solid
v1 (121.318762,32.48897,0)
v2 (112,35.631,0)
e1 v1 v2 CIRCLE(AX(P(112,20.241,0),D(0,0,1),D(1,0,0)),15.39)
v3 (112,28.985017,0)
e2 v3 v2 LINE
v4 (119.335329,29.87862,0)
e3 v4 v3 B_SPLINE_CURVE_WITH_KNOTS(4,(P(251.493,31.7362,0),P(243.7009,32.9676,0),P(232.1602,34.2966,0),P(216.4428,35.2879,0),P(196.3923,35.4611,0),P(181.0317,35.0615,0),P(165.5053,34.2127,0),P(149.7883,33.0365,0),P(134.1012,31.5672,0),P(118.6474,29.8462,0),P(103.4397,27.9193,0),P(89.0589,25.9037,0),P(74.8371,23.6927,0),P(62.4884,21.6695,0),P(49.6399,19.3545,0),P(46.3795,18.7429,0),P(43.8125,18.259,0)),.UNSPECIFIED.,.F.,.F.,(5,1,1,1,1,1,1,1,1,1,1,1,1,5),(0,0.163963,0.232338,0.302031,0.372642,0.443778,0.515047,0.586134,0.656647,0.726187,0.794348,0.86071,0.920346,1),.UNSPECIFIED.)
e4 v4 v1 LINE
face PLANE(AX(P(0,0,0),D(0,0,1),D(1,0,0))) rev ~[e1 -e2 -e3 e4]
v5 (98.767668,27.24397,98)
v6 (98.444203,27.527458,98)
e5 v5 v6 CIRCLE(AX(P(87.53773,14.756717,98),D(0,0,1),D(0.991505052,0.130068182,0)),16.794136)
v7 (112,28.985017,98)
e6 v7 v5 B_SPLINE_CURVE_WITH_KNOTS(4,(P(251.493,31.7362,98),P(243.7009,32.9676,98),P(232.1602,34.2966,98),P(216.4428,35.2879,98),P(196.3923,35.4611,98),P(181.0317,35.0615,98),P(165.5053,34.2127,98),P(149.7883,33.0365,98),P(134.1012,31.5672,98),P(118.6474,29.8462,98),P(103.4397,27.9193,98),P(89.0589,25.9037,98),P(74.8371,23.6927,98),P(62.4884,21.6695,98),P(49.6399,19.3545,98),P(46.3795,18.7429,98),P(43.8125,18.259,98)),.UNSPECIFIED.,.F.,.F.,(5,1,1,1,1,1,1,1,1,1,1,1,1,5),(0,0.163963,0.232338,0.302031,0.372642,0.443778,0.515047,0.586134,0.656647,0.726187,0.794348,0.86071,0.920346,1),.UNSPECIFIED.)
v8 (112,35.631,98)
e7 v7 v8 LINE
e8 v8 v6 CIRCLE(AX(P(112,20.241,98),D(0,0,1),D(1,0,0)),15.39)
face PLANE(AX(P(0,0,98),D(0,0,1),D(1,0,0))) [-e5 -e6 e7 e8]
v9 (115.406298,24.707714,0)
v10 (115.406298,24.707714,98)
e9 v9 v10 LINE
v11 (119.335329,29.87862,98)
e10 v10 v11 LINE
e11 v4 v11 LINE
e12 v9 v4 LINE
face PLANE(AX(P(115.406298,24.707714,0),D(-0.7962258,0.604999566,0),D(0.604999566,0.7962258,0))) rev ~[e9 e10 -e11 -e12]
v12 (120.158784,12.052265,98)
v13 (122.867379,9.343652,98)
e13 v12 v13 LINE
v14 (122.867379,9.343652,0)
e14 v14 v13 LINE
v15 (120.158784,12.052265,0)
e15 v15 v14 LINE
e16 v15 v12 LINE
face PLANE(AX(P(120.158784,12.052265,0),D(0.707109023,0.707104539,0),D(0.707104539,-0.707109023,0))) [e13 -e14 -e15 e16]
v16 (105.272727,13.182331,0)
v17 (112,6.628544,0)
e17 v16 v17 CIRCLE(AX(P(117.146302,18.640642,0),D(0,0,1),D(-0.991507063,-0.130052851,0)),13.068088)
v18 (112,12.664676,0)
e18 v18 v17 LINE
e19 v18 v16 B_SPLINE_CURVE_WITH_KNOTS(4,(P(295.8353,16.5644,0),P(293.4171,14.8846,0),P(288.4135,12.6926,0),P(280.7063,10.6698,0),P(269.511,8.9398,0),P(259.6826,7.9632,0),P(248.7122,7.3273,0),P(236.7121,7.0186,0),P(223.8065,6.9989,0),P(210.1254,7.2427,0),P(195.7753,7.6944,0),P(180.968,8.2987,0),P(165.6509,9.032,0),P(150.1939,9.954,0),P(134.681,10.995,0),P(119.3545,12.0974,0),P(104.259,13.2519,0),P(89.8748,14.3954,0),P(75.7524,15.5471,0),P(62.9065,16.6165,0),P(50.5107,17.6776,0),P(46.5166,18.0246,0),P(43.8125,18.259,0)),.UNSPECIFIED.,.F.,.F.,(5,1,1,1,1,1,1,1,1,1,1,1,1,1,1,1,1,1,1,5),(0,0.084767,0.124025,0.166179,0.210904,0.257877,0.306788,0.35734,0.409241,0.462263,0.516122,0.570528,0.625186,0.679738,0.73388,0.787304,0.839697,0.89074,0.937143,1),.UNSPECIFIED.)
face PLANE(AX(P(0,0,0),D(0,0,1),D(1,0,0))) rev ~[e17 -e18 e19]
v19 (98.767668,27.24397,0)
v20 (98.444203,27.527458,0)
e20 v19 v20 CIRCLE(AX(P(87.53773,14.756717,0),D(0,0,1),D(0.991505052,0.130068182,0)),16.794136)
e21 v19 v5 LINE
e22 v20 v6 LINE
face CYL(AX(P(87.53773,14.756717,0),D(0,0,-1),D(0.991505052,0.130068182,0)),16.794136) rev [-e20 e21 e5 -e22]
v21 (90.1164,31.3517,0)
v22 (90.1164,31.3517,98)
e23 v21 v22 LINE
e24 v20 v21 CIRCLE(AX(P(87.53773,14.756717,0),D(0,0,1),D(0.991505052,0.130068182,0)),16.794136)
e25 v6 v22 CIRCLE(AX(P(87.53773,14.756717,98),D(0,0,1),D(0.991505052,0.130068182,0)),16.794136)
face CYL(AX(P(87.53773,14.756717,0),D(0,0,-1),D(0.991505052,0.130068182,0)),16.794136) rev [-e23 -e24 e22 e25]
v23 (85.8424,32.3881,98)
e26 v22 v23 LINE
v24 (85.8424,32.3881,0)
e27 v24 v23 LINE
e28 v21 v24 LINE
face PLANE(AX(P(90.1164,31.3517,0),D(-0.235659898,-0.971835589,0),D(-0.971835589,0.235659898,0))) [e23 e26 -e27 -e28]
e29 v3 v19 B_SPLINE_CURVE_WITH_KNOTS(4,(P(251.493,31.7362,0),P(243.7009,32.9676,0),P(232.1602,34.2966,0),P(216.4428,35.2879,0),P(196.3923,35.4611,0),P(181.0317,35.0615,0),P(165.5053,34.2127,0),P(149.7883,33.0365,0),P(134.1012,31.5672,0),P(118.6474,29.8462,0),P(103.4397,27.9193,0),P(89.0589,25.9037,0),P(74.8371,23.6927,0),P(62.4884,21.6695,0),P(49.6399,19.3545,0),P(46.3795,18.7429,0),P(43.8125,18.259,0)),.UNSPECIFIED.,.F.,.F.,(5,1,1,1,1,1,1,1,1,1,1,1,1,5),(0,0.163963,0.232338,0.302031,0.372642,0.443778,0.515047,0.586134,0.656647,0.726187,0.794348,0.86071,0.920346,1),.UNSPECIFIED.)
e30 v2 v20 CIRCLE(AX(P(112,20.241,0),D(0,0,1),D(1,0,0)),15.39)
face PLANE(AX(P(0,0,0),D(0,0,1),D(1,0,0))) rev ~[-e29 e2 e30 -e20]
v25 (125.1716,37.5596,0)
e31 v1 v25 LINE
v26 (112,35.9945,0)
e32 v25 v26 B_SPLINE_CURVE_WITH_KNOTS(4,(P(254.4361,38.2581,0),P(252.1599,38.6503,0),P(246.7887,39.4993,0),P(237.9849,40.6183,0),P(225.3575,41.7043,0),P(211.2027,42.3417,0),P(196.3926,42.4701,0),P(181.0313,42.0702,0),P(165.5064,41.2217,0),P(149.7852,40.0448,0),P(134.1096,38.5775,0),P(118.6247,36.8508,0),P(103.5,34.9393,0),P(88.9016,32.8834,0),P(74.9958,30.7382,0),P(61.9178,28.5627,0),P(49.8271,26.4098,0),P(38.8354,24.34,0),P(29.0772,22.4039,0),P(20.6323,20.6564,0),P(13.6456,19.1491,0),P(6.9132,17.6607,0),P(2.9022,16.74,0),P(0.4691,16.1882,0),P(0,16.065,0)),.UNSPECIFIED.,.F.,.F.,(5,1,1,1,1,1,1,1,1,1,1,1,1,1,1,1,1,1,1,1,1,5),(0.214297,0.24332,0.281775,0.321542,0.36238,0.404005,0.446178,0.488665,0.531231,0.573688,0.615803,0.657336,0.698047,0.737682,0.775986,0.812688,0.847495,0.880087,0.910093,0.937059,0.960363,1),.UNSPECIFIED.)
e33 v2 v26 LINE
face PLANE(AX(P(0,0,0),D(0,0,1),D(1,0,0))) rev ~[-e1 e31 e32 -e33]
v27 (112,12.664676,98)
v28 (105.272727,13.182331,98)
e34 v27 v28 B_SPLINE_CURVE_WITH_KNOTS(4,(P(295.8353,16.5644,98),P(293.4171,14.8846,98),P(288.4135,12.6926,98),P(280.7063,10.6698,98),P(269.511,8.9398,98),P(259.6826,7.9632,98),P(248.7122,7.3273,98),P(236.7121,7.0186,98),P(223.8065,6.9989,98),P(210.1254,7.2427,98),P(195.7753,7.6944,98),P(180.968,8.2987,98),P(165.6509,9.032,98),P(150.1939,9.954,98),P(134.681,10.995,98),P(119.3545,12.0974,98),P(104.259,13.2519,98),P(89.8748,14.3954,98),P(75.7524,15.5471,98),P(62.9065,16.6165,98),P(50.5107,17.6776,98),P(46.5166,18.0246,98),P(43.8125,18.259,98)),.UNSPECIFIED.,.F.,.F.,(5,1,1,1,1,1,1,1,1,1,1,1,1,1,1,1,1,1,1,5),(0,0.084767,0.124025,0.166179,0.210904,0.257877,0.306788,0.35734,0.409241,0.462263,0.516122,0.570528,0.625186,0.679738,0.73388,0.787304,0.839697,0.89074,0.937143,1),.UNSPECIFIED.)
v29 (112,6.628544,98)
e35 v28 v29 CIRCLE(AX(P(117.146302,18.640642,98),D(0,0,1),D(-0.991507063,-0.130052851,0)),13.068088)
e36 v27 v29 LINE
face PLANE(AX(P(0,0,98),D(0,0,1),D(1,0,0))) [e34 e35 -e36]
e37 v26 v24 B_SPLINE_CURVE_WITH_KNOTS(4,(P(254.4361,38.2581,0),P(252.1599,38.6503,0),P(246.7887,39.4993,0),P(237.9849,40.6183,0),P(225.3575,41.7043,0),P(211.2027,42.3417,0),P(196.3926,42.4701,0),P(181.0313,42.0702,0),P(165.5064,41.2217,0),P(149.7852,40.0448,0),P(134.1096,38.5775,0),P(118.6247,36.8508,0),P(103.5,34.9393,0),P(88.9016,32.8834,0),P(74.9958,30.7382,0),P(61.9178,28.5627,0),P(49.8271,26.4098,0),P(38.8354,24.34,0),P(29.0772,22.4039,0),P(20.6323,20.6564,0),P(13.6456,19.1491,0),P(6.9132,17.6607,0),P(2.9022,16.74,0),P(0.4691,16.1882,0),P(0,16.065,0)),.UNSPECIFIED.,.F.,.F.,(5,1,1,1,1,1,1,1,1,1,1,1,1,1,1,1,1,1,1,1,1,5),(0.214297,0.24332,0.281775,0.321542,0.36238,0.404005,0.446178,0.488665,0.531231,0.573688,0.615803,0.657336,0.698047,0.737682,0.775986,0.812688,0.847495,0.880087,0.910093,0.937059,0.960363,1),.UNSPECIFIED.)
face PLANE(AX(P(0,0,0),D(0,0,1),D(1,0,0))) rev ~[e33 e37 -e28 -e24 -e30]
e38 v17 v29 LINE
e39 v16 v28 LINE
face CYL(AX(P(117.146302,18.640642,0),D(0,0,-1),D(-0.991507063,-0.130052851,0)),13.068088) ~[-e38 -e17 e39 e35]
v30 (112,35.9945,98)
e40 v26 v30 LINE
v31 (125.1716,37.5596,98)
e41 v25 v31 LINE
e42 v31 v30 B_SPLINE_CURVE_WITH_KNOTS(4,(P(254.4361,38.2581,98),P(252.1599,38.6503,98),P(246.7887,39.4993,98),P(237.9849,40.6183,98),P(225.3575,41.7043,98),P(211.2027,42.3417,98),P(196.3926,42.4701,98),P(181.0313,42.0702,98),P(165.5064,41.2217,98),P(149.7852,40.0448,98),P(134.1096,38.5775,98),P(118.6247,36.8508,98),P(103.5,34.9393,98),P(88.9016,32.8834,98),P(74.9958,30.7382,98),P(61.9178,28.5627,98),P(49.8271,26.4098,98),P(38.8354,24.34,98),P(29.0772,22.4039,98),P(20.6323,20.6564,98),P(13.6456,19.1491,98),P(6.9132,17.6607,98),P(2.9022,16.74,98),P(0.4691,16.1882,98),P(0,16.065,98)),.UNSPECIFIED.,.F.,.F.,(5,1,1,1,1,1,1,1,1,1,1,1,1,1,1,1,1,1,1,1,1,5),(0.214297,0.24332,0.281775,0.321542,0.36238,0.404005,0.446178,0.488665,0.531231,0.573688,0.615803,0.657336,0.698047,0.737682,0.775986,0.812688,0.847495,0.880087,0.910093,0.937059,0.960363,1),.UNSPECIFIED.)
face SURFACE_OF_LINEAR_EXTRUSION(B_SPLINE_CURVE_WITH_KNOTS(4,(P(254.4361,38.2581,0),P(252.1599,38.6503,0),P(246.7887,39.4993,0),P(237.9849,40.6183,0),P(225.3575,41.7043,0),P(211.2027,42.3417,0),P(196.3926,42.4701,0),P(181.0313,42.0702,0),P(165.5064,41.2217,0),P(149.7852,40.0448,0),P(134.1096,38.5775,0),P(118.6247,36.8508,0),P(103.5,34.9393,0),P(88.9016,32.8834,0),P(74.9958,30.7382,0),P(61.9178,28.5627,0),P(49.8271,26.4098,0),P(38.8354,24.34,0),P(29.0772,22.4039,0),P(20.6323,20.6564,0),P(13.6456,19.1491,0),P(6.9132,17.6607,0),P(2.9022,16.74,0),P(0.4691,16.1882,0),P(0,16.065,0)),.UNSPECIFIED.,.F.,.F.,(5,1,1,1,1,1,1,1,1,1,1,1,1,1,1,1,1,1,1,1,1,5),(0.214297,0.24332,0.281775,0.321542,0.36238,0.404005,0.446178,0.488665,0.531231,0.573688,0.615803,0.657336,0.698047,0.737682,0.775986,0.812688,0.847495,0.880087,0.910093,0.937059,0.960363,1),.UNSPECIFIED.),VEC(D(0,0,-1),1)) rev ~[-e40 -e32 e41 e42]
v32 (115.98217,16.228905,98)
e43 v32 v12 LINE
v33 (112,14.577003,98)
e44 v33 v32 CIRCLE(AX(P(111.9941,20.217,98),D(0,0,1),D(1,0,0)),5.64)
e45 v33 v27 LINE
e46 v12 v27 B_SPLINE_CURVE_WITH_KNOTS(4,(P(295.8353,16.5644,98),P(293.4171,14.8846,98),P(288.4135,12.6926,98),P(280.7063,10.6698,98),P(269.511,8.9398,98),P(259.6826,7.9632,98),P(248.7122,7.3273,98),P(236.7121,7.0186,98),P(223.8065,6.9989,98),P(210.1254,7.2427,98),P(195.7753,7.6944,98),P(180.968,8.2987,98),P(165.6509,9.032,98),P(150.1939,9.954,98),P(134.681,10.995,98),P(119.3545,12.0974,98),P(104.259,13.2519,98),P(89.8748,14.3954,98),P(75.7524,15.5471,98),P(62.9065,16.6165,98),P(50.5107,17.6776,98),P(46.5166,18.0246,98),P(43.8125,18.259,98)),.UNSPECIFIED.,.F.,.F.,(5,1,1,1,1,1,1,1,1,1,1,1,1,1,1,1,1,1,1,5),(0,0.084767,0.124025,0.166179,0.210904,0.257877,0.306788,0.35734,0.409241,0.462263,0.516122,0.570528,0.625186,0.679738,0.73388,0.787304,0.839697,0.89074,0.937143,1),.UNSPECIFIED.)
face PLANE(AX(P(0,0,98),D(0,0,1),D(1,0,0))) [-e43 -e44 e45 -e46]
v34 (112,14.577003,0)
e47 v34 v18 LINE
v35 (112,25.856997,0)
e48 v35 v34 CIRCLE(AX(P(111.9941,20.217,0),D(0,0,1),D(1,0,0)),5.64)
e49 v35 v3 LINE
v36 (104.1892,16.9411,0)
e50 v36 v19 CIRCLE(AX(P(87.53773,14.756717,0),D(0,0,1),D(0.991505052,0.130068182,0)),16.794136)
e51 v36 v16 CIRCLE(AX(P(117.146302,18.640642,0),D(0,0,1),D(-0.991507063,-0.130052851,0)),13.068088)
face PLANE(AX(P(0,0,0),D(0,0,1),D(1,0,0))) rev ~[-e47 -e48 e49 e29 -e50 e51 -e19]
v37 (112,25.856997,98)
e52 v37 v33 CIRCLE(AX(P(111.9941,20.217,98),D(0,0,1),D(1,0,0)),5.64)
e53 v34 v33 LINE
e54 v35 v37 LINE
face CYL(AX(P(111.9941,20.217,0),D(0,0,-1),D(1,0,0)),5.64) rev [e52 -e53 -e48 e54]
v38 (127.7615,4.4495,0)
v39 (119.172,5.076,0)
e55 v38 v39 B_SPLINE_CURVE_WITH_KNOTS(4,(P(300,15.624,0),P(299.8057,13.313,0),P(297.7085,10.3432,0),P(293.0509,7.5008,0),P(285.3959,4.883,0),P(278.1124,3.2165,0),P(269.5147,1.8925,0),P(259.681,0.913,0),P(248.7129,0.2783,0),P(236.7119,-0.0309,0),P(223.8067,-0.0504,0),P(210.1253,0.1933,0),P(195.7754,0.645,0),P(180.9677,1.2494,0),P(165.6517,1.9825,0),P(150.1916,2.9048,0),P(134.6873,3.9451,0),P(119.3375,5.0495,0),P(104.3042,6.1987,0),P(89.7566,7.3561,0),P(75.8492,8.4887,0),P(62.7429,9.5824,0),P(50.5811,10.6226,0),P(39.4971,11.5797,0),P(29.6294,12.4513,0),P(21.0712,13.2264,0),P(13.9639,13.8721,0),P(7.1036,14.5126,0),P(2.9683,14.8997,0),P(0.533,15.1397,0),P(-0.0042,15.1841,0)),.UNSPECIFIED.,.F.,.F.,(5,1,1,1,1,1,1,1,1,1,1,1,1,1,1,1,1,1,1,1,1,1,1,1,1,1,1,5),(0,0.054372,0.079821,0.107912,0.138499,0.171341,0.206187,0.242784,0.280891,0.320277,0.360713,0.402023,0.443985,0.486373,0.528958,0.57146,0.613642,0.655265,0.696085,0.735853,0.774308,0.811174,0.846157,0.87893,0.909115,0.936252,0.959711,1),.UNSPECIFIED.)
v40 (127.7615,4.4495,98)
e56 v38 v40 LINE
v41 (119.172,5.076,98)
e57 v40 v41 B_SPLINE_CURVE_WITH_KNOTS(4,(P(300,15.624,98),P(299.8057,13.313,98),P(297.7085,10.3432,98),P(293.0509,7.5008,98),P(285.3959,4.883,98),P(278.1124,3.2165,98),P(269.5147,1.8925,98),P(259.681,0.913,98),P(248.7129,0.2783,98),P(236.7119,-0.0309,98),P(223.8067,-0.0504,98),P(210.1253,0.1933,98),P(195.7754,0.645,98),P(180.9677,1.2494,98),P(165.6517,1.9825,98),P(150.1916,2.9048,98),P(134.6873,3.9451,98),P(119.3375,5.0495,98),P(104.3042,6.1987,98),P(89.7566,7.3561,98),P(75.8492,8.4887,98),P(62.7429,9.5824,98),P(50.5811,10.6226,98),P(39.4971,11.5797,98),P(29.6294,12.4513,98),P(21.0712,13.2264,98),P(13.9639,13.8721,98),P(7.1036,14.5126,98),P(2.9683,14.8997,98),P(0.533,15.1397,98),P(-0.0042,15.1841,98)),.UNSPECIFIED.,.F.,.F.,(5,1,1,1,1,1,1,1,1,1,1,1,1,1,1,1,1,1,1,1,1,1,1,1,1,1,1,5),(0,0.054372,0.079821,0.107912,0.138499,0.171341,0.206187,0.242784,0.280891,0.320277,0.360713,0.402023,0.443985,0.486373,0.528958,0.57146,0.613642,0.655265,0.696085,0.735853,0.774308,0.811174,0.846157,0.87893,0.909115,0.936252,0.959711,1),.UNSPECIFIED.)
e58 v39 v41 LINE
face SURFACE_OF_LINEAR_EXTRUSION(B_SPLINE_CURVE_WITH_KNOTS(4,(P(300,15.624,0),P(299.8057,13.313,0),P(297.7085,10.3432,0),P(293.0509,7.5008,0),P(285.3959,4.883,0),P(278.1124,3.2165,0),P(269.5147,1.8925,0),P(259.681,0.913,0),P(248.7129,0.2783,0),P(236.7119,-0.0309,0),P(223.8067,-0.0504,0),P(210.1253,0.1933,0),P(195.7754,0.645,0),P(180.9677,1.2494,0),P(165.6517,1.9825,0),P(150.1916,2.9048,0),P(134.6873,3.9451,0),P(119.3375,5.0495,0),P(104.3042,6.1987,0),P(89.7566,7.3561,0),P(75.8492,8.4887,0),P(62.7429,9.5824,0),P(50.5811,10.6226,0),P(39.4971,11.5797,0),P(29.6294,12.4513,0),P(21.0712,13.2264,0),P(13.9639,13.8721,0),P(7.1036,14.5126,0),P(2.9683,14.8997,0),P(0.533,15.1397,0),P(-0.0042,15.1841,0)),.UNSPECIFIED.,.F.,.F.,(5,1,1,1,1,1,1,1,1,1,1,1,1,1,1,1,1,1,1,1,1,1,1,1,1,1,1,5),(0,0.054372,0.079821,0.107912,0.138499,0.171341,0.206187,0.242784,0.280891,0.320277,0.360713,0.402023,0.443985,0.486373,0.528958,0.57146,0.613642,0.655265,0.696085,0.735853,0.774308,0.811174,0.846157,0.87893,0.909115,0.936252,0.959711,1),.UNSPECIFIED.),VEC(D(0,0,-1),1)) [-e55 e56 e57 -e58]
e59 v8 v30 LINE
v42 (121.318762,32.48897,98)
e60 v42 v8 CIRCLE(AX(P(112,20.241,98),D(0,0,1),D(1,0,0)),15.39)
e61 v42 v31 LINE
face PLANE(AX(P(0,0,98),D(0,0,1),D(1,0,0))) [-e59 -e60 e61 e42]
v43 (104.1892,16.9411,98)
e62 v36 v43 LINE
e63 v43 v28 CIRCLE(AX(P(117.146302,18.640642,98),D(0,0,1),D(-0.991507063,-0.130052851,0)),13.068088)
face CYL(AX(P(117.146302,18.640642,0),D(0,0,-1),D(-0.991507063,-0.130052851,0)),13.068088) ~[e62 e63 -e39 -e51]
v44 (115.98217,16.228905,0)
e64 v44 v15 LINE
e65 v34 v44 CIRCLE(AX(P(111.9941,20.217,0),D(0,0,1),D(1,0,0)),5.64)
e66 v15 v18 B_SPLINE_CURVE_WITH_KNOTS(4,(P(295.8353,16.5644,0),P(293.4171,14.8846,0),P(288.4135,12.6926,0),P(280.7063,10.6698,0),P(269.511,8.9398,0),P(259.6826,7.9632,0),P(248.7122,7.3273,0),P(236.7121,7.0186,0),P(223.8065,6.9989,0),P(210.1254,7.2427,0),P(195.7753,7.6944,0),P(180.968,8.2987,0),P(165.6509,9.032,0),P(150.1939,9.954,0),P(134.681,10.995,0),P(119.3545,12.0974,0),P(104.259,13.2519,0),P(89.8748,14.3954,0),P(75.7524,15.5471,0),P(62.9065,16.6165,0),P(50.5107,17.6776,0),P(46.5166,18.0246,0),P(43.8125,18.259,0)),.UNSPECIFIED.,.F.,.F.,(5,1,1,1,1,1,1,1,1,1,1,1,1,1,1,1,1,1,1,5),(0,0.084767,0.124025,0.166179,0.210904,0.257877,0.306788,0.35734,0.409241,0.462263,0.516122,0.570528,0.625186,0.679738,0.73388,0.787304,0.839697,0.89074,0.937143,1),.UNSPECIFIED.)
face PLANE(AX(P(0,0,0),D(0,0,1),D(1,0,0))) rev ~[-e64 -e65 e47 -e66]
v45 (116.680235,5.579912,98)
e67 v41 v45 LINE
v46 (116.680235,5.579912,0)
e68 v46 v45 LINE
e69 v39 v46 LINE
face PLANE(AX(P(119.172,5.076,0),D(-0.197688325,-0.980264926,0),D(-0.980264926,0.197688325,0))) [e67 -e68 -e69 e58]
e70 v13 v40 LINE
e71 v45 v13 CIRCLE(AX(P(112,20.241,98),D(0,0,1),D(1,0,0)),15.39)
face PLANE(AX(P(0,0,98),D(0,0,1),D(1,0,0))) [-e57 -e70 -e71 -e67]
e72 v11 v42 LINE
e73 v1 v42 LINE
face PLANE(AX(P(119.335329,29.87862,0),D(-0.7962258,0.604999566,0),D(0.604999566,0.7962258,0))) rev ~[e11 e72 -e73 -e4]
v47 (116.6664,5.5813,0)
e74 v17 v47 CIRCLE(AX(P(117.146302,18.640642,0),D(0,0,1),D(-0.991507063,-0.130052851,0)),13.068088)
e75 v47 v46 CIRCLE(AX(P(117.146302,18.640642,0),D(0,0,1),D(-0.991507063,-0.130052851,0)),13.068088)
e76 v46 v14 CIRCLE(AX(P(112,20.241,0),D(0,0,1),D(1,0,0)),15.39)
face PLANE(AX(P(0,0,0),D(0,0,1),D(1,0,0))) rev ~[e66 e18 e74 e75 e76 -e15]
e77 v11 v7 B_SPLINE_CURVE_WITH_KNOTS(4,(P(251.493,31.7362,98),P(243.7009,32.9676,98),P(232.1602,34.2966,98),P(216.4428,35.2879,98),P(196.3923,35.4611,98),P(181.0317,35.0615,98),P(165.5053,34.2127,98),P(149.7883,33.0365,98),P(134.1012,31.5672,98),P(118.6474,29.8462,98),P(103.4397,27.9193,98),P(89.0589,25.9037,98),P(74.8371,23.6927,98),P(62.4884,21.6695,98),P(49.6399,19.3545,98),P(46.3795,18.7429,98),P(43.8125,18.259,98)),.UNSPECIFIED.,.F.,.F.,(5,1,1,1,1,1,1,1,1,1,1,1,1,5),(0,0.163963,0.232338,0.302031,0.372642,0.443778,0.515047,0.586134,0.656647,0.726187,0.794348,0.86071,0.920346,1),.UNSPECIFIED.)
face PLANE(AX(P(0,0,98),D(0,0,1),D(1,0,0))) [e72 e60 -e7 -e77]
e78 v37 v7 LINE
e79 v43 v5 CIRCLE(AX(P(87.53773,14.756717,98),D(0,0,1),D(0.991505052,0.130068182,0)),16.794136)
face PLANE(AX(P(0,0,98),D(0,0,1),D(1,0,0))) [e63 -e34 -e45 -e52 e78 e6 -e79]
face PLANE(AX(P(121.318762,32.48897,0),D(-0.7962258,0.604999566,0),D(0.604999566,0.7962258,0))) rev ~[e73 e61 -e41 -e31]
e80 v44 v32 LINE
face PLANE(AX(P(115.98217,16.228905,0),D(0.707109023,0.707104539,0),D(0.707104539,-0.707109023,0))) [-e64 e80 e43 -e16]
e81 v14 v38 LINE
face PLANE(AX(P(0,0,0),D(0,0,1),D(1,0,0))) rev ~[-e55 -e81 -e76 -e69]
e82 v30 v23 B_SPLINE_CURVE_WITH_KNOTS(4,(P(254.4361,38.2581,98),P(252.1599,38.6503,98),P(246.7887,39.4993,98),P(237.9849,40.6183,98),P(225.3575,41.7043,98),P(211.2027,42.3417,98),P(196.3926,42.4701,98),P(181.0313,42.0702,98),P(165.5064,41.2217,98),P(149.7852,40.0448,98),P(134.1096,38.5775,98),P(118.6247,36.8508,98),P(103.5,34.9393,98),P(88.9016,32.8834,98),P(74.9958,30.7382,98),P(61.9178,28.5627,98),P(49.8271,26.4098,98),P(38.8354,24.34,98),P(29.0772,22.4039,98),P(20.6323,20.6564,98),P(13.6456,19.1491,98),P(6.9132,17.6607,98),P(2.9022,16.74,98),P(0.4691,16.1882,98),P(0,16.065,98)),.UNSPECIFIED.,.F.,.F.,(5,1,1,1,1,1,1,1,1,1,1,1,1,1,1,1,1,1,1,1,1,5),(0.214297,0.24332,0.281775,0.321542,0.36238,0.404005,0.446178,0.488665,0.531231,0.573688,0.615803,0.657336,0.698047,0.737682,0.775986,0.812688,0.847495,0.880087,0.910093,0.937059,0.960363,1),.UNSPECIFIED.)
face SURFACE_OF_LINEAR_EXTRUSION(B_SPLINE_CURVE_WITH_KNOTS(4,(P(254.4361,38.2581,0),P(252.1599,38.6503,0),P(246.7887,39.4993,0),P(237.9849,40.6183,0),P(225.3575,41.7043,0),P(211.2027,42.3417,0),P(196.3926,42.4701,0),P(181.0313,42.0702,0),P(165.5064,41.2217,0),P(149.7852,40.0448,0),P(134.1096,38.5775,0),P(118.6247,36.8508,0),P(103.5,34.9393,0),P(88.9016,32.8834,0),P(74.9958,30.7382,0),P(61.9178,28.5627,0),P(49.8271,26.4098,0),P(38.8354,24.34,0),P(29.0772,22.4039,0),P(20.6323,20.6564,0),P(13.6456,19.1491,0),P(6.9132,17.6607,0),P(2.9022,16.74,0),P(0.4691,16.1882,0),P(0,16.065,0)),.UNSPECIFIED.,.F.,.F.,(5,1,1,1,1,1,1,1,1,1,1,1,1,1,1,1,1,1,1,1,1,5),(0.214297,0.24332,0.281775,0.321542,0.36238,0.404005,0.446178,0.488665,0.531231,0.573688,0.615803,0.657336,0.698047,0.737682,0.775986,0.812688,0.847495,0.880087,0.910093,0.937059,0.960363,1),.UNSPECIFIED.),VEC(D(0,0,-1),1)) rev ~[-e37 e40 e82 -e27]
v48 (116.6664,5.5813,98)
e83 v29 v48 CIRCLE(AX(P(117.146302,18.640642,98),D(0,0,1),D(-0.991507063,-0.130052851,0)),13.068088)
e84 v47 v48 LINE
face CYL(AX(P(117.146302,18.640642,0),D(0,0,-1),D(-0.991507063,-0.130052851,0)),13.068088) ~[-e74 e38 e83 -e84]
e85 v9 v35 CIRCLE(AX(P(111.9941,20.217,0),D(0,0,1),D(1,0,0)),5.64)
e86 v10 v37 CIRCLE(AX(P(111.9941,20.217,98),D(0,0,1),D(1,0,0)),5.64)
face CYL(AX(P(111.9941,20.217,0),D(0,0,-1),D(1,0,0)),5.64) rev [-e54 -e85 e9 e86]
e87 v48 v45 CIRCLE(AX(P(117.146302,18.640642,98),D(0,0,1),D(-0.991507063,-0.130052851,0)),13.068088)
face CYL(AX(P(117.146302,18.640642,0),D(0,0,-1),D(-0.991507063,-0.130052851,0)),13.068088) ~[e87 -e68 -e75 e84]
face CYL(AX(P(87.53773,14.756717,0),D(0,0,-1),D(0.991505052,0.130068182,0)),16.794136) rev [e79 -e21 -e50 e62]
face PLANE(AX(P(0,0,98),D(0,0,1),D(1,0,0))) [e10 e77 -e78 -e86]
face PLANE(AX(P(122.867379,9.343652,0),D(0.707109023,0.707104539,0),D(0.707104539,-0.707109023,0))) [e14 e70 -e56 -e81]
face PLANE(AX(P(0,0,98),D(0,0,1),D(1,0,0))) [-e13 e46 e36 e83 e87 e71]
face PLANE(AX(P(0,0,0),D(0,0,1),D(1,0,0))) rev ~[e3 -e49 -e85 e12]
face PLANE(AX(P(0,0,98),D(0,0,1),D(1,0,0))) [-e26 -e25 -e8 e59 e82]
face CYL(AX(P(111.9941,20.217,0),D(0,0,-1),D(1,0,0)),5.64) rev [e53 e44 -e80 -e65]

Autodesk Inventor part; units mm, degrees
ref_plane "YZ Plane" through (0, 0, 0) normal (1, 0, 0) x (0, 1, 0)
ref_plane "XZ Plane" through (0, 0, 0) normal (0, 1, 0) x (-1, 0, 0)
ref_plane "XY Plane" through (0, 0, 0) normal (0, 0, 1) x (1, 0, 0)
sketch "Sketch1" plane through (0, 0, 0) normal (0, 0, 1) x (1, 0, 0)
  spline S0 degree 4 poles (254.4361, 38.2581) (252.1599, 38.6503) (246.7887, 39.4993) (237.9849, 40.6183) (225.3575, 41.7043) (211.2027, 42.3417) (196.3926, 42.4701) (181.0313, 42.0702) (165.5064, 41.2217) (149.7852, 40.0448) (134.1096, 38.5775) (118.6247, 36.8508) (103.5, 34.9393) (88.9016, 32.8834) (74.9958, 30.7382) (61.9178, 28.5627) (49.8271, 26.4098) (38.8354, 24.34) (29.0772, 22.4039) (20.6323, 20.6564) (13.6456, 19.1491) (6.9132, 17.6607) (2.9022, 16.74) (0.4691, 16.1882) (0, 16.065) knots 0.214297 0.214297 0.214297 0.214297 0.214297 0.24332 0.281775 0.321542 0.36238 0.404005 0.446178 0.488665 0.531231 0.573688 0.615803 0.657336 0.698047 0.737682 0.775986 0.812688 0.847495 0.880087 0.910093 0.937059 0.960363 1 1 1 1 1
  spline S1 degree 4 poles (300, 15.624) (299.8057, 13.313) (297.7085, 10.3432) (293.0509, 7.5008) (285.3959, 4.883) (278.1124, 3.2165) (269.5147, 1.8925) (259.681, 0.913) (248.7129, 0.2783) (236.7119, -0.0309) (223.8067, -0.0504) (210.1253, 0.1933) (195.7754, 0.645) (180.9677, 1.2494) (165.6517, 1.9825) (150.1916, 2.9048) (134.6873, 3.9451) (119.3375, 5.0495) (104.3042, 6.1987) (89.7566, 7.3561) (75.8492, 8.4887) (62.7429, 9.5824) (50.5811, 10.6226) (39.4971, 11.5797) (29.6294, 12.4513) (21.0712, 13.2264) (13.9639, 13.8721) (7.1036, 14.5126) (2.9683, 14.8997) (0.533, 15.1397) (-0.0042, 15.1841) knots 0 0 0 0 0 0.054372 0.079821 0.107912 0.138499 0.171341 0.206187 0.242784 0.280891 0.320277 0.360713 0.402023 0.443985 0.486373 0.528958 0.57146 0.613642 0.655265 0.696085 0.735853 0.774308 0.811174 0.846157 0.87893 0.909115 0.936252 0.959711 1 1 1 1 1
  arc A0 (0, 16.065) -> (-0.0042, 15.1841) centre (0.1158, 15.624) ccw
  line L0 (0.1158, 15.624) -> (227.9902, 15.624) construction
  line L1 (300, 15.624) -> (0.1158, 15.624) construction
  line L2 (300, 15.624) -> (200, 15.624) construction
  line L3 (200, 15.624) -> (200, 42.3773) construction
  line L4 (200, 15.624) -> (200, 0.5273)
  line L5 (0, 0) -> (0, 20.241)
  line L6 (0, 20.241) -> (238.581, 20.241) construction
  circle A1 centre (238.581, 20.241) radius 14
  line L7 (238.581, 20.241) -> (208.581, 20.241)
  line L8 (238.581, 25.359) -> (238.581, 20.241)
  line L9 (0, 20.241) -> (112, 20.241) construction
  circle A2 centre (112, 20.241) radius 5.39
  line L10 (0, 15.624) -> (112, 15.624) construction
  line L11 (0, 15.624) -> (112, 15.624) construction
  line L12 (112, 15.624) -> (112, 35.9945)
  line L13 (112, 15.624) -> (112, 5.6153)
  spline S2 degree 4 poles (299.2852, 20.241) (299.2279, 20.1316) (299.168, 20.0232) (299.1056, 19.9158) (299.0406, 19.8092) knots 0.014818 0.014818 0.014818 0.014818 0.014818 0.017711 0.017711 0.017711 0.017711 0.017711
  line L14 (299.2071, 20.0822) -> (298.8742, 19.5363) construction
  arc A3 (298.904, 19.5932) -> (299.1702, 20.0296) centre (292.2911, 23.9254) ccw construction
  line L15 (299.432, 20.5214) -> (299.1384, 19.9606) construction
  arc A4 (299.1639, 20.0188) -> (299.3987, 20.4672) centre (292.801, 23.6361) ccw construction
  spline S3 degree 2 poles (295.8506, 16.56) (295.1573, 16.0692) (294.3933, 15.624) knots 0 0 0 1 1 1
  line L16 (294.5507, 15.7157) -> (294.2359, 15.5323) construction
  arc A5 (294.2672, 15.5511) -> (294.519, 15.6978) centre (283.8844, 33.657) ccw construction
  spline S4 degree 4 poles (296.8569, 15.624) (296.6183, 15.8629) (296.3707, 16.0985) (296.1147, 16.3309) (295.8506, 16.56) knots 0.044099 0.044099 0.044099 0.044099 0.044099 0.050856 0.050856 0.050856 0.050856 0.050856
  spline S5 degree 4 poles (219.5872, 34.9119) (218.6954, 34.952) (214.8585, 35.1063) (210.7072, 35.3295) (192.898, 35.4464) (181.4278, 35.0555) (165.1774, 34.1819) (149.5619, 33.1267) (133.8284, 31.3479) (128.2654, 31.0974) (123.3908, 30.59) knots 0 0 0 0 0 0.139244 0.23322 0.363937 0.509983 0.657115 0.798105 1 1 1 1 1
  line L17 (295.9593, 16.4657) -> (295.7419, 16.6543) construction
  arc A6 (295.9374, 16.4843) -> (295.7635, 16.6352) centre (281.8729, 0.4516) ccw construction
  line L18 (232.7438, 34.3645) -> (201.1936, 35.6815) construction
  arc A7 (229.5868, 34.4549) -> (204.3471, 35.5085) centre (136.3483, -1896.3245) ccw construction
  arc A8 (264.2661, 15.123) -> (264.3608, 15.624) centre (238.581, 20.241) ccw
  circle A9 centre (238.581, 20.241) radius 24
  circle A10 centre (112, 20.241) radius 15.39
  spline S6 degree 4 poles (300, 15.624) (300.2691, 17.9337) (298.7834, 21.2677) (294.6934, 24.9798) (287.5317, 28.9406) (280.4869, 31.8205) (271.481, 34.7182) (262.4868, 36.793) (257.7004, 37.6957) (254.4361, 38.2581) knots 0 0 0 0 0 0.247555 0.363857 0.49255 0.632996 0.778264 1 1 1 1 1
  line L19 (285.2945, 32.941) -> (223.5776, 43.5753) construction
  arc A11 (278.7224, 32.6349) -> (229.6682, 41.0872) centre (217.2184, -177.7386) ccw construction
  line L20 (285.2945, 32.941) -> (223.5776, 43.5753) construction
  arc A12 (278.8771, 33.0418) -> (229.6586, 41.5224) centre (200.8949, -272.4733) ccw construction
  spline S7 degree 4 poles (251.493, 31.7362) (243.7009, 32.9676) (232.1602, 34.2966) (216.4428, 35.2879) (196.3923, 35.4611) (181.0317, 35.0615) (165.5053, 34.2127) (149.7883, 33.0365) (134.1012, 31.5672) (118.6474, 29.8462) (103.4397, 27.9193) (89.0589, 25.9037) (74.8371, 23.6927) (62.4884, 21.6695) (49.6399, 19.3545) (46.3795, 18.7429) (43.8125, 18.259) knots 0 0 0 0 0 0.163963 0.232338 0.302031 0.372642 0.443778 0.515047 0.586134 0.656647 0.726187 0.794348 0.86071 0.920346 1 1 1 1 1
  spline S8 degree 4 poles (295.845, 16.556) (295.7198, 16.6646) (294.585, 17.6283) (292.0585, 19.4283) (287.5167, 21.9347) (280.467, 24.8321) (271.9714, 27.5226) (264.2087, 29.4004) (258.4092, 30.5515) (255.0536, 31.1429) (254.4361, 31.2493) (253.9689, 31.3298) (253.5018, 31.4103) (253.0347, 31.4908) (252.5676, 31.5712) knots 0.050892 0.050892 0.050892 0.050892 0.050892 0.054094 0.079507 0.107628 0.138317 0.171335 0.206423 0.214297 0.214297 0.214297 0.214297 0.220253 0.220253 0.220253 0.220253 0.220253
  line L21 (285.2945, 25.9322) -> (223.5776, 36.5664) construction
  line L22 (285.2945, 25.9322) -> (223.5776, 36.5664) construction
  arc A13 (278.7224, 25.626) -> (229.6682, 34.0784) centre (217.2184, -184.7474) ccw construction
  line L23 (270.129, 9.1254) -> (275.129, 9.1254) construction
  line L24 (281.07, 24.4582) -> (286.07, 24.4582) construction
  line L25 (318.8214, -3.3673) -> (272.8686, 36.4793) construction
  arc A14 (303.2079, 0.552) -> (278.9595, 21.5782) centre (281.8576, 0.4252) ccw construction
  spline S9 degree 4 poles (295.8353, 16.5644) (293.4171, 14.8846) (288.4135, 12.6926) (280.7063, 10.6698) (269.511, 8.9398) (259.6826, 7.9632) (248.7122, 7.3273) (236.7121, 7.0186) (223.8065, 6.9989) (210.1254, 7.2427) (195.7753, 7.6944) (180.968, 8.2987) (165.6509, 9.032) (150.1939, 9.954) (134.681, 10.995) (119.3545, 12.0974) (104.259, 13.2519) (89.8748, 14.3954) (75.7524, 15.5471) (62.9065, 16.6165) (50.5107, 17.6776) (46.5166, 18.0246) (43.8125, 18.259) knots 0 0 0 0 0 0.084767 0.124025 0.166179 0.210904 0.257877 0.306788 0.35734 0.409241 0.462263 0.516122 0.570528 0.625186 0.679738 0.73388 0.787304 0.839697 0.89074 0.937143 1 1 1 1 1
  spline S10 degree 4 poles (21.4623, 20.241) (20.6227, 20.317) (20.124, 20.3622) (19.9191, 20.3809) (19.554, 20.414) knots 0.979732 0.979732 0.979732 0.979732 0.979732 1 1 1 1 1 construction
  line L26 (68.4884, 16.1198) -> (19.1367, 20.3983) construction
  arc A15 (63.5515, 16.5281) -> (24.0702, 19.9509) centre (-819.8994, -9944.3712) ccw construction
  line L27 (21.7244, 20.2173) -> (21.2001, 20.2647) construction
  arc A16 (21.2525, 20.26) -> (21.672, 20.222) centre (898.6358, 9712.9556) ccw construction
  line L28 (74.2541, 23.9969) -> (13.371, 12.5211) construction
  arc A17 (68.1759, 22.7939) -> (19.47, 13.6134) centre (1053.3901, -5337.891) ccw construction
  spline S11 degree 4 poles (218.4375, 7.1934) (217.6173, 7.2408) (213.8192, 7.4688) (209.5863, 6.8507) (192.5485, 7.9441) (181.1469, 8.163) (165.7461, 9.0283) (149.1424, 9.8801) (139.9777, 10.7519) (129.1073, 11.2464) (124.6867, 11.5289) knots 0 0 0 0 0 0.127631 0.213723 0.333628 0.467446 0.602621 0.738424 0.880395 0.880395 0.880395 0.880395 0.880395
  line L29 (133.5337, 10.9635) -> (115.8396, 12.0942) construction
  arc A18 (117.618, 12.0789) -> (131.7678, 11.1747) centre (141.027, 267.2384) ccw construction
  line L30 (140.665, 32.3881) -> (106.1166, 28.792) construction
  arc A19 (137.222, 31.4497) -> (109.679, 28.5828) centre (140.6225, -134.9596) ccw construction
  circle A20 centre (238.581, 20.241) radius 18
  line L31 (238.581, 38.241) -> (225.78, 41.559)
  line L32 (238.581, 2.241) -> (224.22, 0)
  line L33 (214.581, 20.241) -> (214.581, 42.1266) construction
  line L34 (127.39, 20.241) -> (127.39, 11.5255) construction
  line L35 (127.39, 20.241) -> (131.3139, 20.241) construction
  line L36 (96.61, 20.241) -> (96.61, 13.8631) construction
  line L37 (270.129, 5.6153) -> (270.129, 15.624) construction
  line L38 (272.129, 7.6153) -> (272.129, 13.624)
  line L39 (268.129, 13.624) -> (268.129, 7.6153)
  arc A21 (268.129, 7.6153) -> (272.129, 7.6153) centre (270.129, 7.6153) ccw
  arc A22 (272.129, 13.624) -> (268.129, 13.624) centre (270.129, 13.624) ccw
  line L40 (270.129, 32.1807) -> (270.129, 22.172) construction
  line L41 (272.129, 30.1807) -> (272.129, 24.172)
  line L42 (268.129, 24.172) -> (268.129, 30.1807)
  arc A23 (272.129, 30.1807) -> (268.129, 30.1807) centre (270.129, 30.1807) ccw
  arc A24 (268.129, 24.172) -> (272.129, 24.172) centre (270.129, 24.172) ccw
  arc A25 (200, 42.3155) -> (199.8539, 42.3773) centre (190.581, 20.241) ccw
  arc A26 (171.273, 34.4958) -> (171.2681, 34.4892) centre (190.581, 20.241) ccw
  arc A27 (210.7484, 7.2304) -> (209.2875, 35.2765) centre (190.581, 20.241) ccw
  arc A28 (169.4455, 8.8703) -> (169.4744, 8.8168) centre (190.581, 20.241) ccw
  arc A29 (153.9768, 9.6824) -> (154.0303, 9.7394) centre (142.78, 20.241) ccw
  arc A30 (151.2419, 33.0959) -> (151.2193, 33.1107) centre (142.78, 20.241) ccw
  arc A31 (132.1299, 31.3508) -> (130.3229, 11.2037) centre (142.78, 20.241) ccw
  arc A32 (95.2741, 13.9693) -> (95.1698, 26.7415) centre (81.22, 20.241) ccw
  arc A33 (66.334, 16.3348) -> (66.5389, 15.624) centre (81.22, 20.241) ccw
  line L43 (112, 20.241) -> (112, 14.851) construction
  line L44 (112, 14.851) -> (91.265, 14.851) construction
  circle A34 centre (91.265, 14.851) radius 4
  circle A35 centre (111.9941, 20.217) radius 5.39
  arc A36 (104.1892, 16.9411) -> (90.1164, 31.3517) centre (87.5379, 14.7568) ccw
  arc A37 (104.1892, 16.9411) -> (116.9519, 5.574) centre (117.1466, 18.6408) ccw
  line L45 (90.1164, 31.3517) -> (85.8424, 32.3881)
  line L46 (119.172, 5.076) -> (116.6664, 5.5813)
  circle A38 centre (238.581, 20.241) radius 13.69
  circle A39 centre (111.9941, 20.217) radius 5.64
  line L47 (111.9941, 20.217) -> (125.1716, 37.5596)
  line L48 (111.9941, 20.217) -> (127.7615, 4.4495)
  line L49 (111.9941, 20.217) -> (119.9703, 20.217) construction
  point P0 (0.783, 16.254)
  point P1 (3.213, 16.812)
  point P2 (7.239, 17.724)
  point P3 (12.813, 18.96)
  point P4 (19.884, 20.484)
  point P5 (28.374, 22.245)
  point P6 (38.199, 24.195)
  point P7 (49.254, 26.28)
  point P8 (61.419, 28.446)
  point P9 (74.571, 30.636)
  point P10 (88.56, 32.793)
  point P11 (103.242, 34.86)
  point P12 (118.455, 36.783)
  point P13 (134.028, 38.511)
  point P14 (149.793, 39.984)
  point P15 (165.576, 41.16)
  point P16 (181.206, 41.985)
  point P17 (196.638, 42.363)
  point P18 (211.554, 42.222)
  point P19 (239.145, 40.389)
  point P20 (262.68, 36.666)
  point P21 (272.577, 34.218)
  point P22 (281.07, 31.467)
  point P23 (288.069, 28.491)
  point P24 (293.505, 25.359)
  point P25 (297.324, 22.137)
  point P26 (300, 15.624)
  point P27 (0.861, 15.105)
  point P28 (3.342, 14.868)
  point P29 (7.446, 14.481)
  point P30 (13.122, 13.953)
  point P31 (20.31, 13.296)
  point P32 (28.92, 12.519)
  point P33 (38.856, 11.64)
  point P34 (50.007, 10.674)
  point P35 (62.244, 9.63)
  point P36 (75.429, 8.529)
  point P37 (89.418, 7.389)
  point P38 (104.052, 6.228)
  point P39 (134.613, 3.966)
  point P40 (150.207, 2.928)
  point P41 (165.783, 2.013)
  point P42 (181.167, 1.263)
  point P43 (196.068, 0.663)
  point P44 (210.468, 0.225)
  point P45 (237.189, 0.039)
  point P46 (249.246, 0.378)
  point P47 (260.262, 1.05)
  point P48 (270.129, 2.076)
  point P49 (278.739, 3.462)
  point P50 (285.993, 5.211)
  point P51 (291.81, 7.314)
  point P52 (296.121, 9.756)
  point P53 (298.863, 12.531)
  point P54 (200, 15.624)
  point P55 (225.3642, 15.624)
  point P56 (238.581, 6.241)
  point P57 (238.581, 34.241)
  point P58 (225.3642, 15.624)
  point P59 (251.7978, 15.624)
  point P60 (0, 16.065)
  point P61 (0, 15.1838)
  point P62 (224.581, 20.241)
  point P63 (112, 25.631)
  point P64 (0, 9.065)
  point P65 (0.783, 9.254)
  point P66 (3.213, 9.812)
  point P67 (7.239, 10.724)
  point P68 (12.813, 11.96)
  point P69 (19.884, 13.484)
  point P70 (28.374, 15.245)
  point P71 (38.199, 17.195)
  point P72 (49.254, 19.28)
  point P73 (61.419, 21.446)
  point P74 (74.571, 23.636)
  point P75 (88.56, 25.793)
  point P76 (103.242, 27.86)
  point P77 (118.455, 29.783)
  point P78 (134.028, 31.511)
  point P79 (149.793, 32.984)
  point P80 (165.576, 34.16)
  point P81 (181.206, 34.985)
  point P82 (225.78, 34.559)
  point P83 (239.145, 33.389)
  point P84 (251.493, 31.745)
  point P85 (262.68, 29.666)
  point P86 (272.577, 27.218)
  point P87 (281.07, 24.467)
  point P88 (288.069, 21.491)
  point P89 (293.505, 18.359)
  point P90 (297.324, 15.137)
  point P91 (299.493, 11.879)
  point P92 (300, 8.624)
  point P93 (-0.0042, 22.1841)
  point P94 (0.861, 22.105)
  point P95 (3.342, 21.868)
  point P96 (7.446, 21.481)
  point P97 (13.122, 20.953)
  point P98 (20.31, 20.296)
  point P99 (28.92, 19.519)
  point P100 (38.856, 18.64)
  point P101 (50.007, 17.674)
  point P102 (62.244, 16.63)
  point P103 (75.429, 15.529)
  point P104 (89.418, 14.389)
  point P105 (104.052, 13.228)
  point P106 (119.172, 12.076)
  point P107 (134.613, 10.966)
  point P108 (150.207, 9.928)
  point P109 (165.783, 9.013)
  point P110 (181.167, 8.263)
  point P111 (196.068, 7.663)
  point P112 (210.468, 7.225)
  point P113 (224.22, 7)
  point P114 (237.189, 7.039)
  point P115 (249.246, 7.378)
  point P116 (260.262, 8.05)
  point P117 (270.129, 9.076)
  point P118 (278.739, 10.462)
  point P119 (285.993, 12.211)
  point P120 (291.81, 14.314)
  point P121 (296.121, 16.756)
  point P122 (298.863, 19.531)
  point P123 (300, 22.624)
  point P124 (18.7405, 20.241)
  point P125 (216.9687, 35.023)
  point P126 (0, 16.065)
  point P127 (296.8569, 15.624)
  point P128 (294.3933, 15.624)
  point P129 (219.5872, 34.9119)
  point P130 (123.3908, 30.59)
  point P131 (254.4361, 38.2581)
  point P132 (0, 9.0562)
  point P133 (0.783, 9.2452)
  point P134 (3.213, 9.8032)
  point P135 (7.239, 10.7152)
  point P136 (12.813, 11.9512)
  point P137 (19.884, 13.4752)
  point P138 (28.374, 15.2362)
  point P139 (38.199, 17.1862)
  point P140 (49.254, 19.2712)
  point P141 (61.419, 21.4372)
  point P142 (74.571, 23.6272)
  point P143 (88.56, 25.7842)
  point P144 (103.242, 27.8512)
  point P145 (118.455, 29.7742)
  point P146 (134.028, 31.5022)
  point P147 (149.793, 32.9752)
  point P148 (165.576, 34.1512)
  point P149 (181.206, 34.9762)
  point P150 (196.638, 35.3542)
  point P151 (211.554, 35.2132)
  point P152 (225.78, 34.5502)
  point P153 (262.68, 29.6572)
  point P154 (272.577, 27.2092)
  point P155 (297.324, 15.1282)
  point P156 (299.493, 11.8702)
  point P157 (300, 8.6152)
  point P158 (254.4361, 31.2493)
  point P159 (216.8848, -206.3625)
  point P160 (278.8769, 26.0734)
  point P161 (229.5906, 33.8662)
  point P162 (-0.0042, 22.2335)
  point P163 (0.861, 22.1544)
  point P164 (3.342, 21.9174)
  point P165 (7.446, 21.5304)
  point P166 (13.122, 21.0024)
  point P167 (28.92, 19.5684)
  point P168 (38.856, 18.6894)
  point P169 (50.007, 17.7234)
  point P170 (62.244, 16.6794)
  point P171 (75.429, 15.5784)
  point P172 (89.418, 14.4384)
  point P173 (104.052, 13.2774)
  point P174 (119.172, 12.1254)
  point P175 (134.613, 11.0154)
  point P176 (150.207, 9.9774)
  point P177 (165.783, 9.0624)
  point P178 (181.167, 8.3124)
  point P179 (196.068, 7.7124)
  point P180 (210.468, 7.2744)
  point P181 (224.22, 7.0494)
  point P182 (237.189, 7.0884)
  point P183 (249.246, 7.4274)
  point P184 (260.262, 8.0994)
  point P185 (278.739, 10.5114)
  point P186 (285.993, 12.2604)
  point P187 (296.121, 16.8054)
  point P188 (298.863, 19.5804)
  point P189 (300, 22.6734)
  point P190 (225.7, -0.0094)
  point P191 (252.2617, 0.522)
  point P192 (227.3495, 41.4508)
  point P193 (105.9778, 6.0782)
  point P194 (115.8008, 5.3277)
  point P195 (98.26, 27.1738)
  point P196 (260.4522, 30.1228)
  point P197 (123.5853, 30.3718)
  point P198 (134.5979, 31.5604)
  point P199 (134.4982, 31.5502)
  dimension "d38" = 10.78
  dimension "d17" = 100
  dimension "d19" = 20.241
  dimension "d20" = 238.581
  dimension "d21" = 28
  dimension "d37" = 112
  dimension "d39" = 112
  dimension "d40" = 0
  dimension "d43" = 10
  dimension "d44" = 10
  dimension "d55" = 4
  dimension "d56" = 90
  dimension "d58" = 4
  dimension "d59" = 20.735
  dimension "d60" = 8
  dimension "d61" = 16.794
  dimension "d62" = 24.4562
  dimension "d63" = 5.4601
  dimension "d64" = 13.0683
  dimension "d65" = 16.5949
  dimension "d66" = 2.5785
  dimension "d68" = 27.38
  dimension "d69" = 11.28
  dimension "d70" = 45
extrude "Extrusion3" add sketch "Sketch1" along normal blind 98 contours L47 A10 L12 S0 | L12 A10 A36 L45 S0 | L47 S7 L12 A10 | L12 S7 A36 A10 | L47 A39 L12 S7 | L12 A39 L13 S9 A37 A36 S7 | A39 L48 S9 L13 | S9 L48 A10 A37 L13 | L13 A37 S9 | L46 A10 L48 S1
properties part number "Flap Foam 89"
